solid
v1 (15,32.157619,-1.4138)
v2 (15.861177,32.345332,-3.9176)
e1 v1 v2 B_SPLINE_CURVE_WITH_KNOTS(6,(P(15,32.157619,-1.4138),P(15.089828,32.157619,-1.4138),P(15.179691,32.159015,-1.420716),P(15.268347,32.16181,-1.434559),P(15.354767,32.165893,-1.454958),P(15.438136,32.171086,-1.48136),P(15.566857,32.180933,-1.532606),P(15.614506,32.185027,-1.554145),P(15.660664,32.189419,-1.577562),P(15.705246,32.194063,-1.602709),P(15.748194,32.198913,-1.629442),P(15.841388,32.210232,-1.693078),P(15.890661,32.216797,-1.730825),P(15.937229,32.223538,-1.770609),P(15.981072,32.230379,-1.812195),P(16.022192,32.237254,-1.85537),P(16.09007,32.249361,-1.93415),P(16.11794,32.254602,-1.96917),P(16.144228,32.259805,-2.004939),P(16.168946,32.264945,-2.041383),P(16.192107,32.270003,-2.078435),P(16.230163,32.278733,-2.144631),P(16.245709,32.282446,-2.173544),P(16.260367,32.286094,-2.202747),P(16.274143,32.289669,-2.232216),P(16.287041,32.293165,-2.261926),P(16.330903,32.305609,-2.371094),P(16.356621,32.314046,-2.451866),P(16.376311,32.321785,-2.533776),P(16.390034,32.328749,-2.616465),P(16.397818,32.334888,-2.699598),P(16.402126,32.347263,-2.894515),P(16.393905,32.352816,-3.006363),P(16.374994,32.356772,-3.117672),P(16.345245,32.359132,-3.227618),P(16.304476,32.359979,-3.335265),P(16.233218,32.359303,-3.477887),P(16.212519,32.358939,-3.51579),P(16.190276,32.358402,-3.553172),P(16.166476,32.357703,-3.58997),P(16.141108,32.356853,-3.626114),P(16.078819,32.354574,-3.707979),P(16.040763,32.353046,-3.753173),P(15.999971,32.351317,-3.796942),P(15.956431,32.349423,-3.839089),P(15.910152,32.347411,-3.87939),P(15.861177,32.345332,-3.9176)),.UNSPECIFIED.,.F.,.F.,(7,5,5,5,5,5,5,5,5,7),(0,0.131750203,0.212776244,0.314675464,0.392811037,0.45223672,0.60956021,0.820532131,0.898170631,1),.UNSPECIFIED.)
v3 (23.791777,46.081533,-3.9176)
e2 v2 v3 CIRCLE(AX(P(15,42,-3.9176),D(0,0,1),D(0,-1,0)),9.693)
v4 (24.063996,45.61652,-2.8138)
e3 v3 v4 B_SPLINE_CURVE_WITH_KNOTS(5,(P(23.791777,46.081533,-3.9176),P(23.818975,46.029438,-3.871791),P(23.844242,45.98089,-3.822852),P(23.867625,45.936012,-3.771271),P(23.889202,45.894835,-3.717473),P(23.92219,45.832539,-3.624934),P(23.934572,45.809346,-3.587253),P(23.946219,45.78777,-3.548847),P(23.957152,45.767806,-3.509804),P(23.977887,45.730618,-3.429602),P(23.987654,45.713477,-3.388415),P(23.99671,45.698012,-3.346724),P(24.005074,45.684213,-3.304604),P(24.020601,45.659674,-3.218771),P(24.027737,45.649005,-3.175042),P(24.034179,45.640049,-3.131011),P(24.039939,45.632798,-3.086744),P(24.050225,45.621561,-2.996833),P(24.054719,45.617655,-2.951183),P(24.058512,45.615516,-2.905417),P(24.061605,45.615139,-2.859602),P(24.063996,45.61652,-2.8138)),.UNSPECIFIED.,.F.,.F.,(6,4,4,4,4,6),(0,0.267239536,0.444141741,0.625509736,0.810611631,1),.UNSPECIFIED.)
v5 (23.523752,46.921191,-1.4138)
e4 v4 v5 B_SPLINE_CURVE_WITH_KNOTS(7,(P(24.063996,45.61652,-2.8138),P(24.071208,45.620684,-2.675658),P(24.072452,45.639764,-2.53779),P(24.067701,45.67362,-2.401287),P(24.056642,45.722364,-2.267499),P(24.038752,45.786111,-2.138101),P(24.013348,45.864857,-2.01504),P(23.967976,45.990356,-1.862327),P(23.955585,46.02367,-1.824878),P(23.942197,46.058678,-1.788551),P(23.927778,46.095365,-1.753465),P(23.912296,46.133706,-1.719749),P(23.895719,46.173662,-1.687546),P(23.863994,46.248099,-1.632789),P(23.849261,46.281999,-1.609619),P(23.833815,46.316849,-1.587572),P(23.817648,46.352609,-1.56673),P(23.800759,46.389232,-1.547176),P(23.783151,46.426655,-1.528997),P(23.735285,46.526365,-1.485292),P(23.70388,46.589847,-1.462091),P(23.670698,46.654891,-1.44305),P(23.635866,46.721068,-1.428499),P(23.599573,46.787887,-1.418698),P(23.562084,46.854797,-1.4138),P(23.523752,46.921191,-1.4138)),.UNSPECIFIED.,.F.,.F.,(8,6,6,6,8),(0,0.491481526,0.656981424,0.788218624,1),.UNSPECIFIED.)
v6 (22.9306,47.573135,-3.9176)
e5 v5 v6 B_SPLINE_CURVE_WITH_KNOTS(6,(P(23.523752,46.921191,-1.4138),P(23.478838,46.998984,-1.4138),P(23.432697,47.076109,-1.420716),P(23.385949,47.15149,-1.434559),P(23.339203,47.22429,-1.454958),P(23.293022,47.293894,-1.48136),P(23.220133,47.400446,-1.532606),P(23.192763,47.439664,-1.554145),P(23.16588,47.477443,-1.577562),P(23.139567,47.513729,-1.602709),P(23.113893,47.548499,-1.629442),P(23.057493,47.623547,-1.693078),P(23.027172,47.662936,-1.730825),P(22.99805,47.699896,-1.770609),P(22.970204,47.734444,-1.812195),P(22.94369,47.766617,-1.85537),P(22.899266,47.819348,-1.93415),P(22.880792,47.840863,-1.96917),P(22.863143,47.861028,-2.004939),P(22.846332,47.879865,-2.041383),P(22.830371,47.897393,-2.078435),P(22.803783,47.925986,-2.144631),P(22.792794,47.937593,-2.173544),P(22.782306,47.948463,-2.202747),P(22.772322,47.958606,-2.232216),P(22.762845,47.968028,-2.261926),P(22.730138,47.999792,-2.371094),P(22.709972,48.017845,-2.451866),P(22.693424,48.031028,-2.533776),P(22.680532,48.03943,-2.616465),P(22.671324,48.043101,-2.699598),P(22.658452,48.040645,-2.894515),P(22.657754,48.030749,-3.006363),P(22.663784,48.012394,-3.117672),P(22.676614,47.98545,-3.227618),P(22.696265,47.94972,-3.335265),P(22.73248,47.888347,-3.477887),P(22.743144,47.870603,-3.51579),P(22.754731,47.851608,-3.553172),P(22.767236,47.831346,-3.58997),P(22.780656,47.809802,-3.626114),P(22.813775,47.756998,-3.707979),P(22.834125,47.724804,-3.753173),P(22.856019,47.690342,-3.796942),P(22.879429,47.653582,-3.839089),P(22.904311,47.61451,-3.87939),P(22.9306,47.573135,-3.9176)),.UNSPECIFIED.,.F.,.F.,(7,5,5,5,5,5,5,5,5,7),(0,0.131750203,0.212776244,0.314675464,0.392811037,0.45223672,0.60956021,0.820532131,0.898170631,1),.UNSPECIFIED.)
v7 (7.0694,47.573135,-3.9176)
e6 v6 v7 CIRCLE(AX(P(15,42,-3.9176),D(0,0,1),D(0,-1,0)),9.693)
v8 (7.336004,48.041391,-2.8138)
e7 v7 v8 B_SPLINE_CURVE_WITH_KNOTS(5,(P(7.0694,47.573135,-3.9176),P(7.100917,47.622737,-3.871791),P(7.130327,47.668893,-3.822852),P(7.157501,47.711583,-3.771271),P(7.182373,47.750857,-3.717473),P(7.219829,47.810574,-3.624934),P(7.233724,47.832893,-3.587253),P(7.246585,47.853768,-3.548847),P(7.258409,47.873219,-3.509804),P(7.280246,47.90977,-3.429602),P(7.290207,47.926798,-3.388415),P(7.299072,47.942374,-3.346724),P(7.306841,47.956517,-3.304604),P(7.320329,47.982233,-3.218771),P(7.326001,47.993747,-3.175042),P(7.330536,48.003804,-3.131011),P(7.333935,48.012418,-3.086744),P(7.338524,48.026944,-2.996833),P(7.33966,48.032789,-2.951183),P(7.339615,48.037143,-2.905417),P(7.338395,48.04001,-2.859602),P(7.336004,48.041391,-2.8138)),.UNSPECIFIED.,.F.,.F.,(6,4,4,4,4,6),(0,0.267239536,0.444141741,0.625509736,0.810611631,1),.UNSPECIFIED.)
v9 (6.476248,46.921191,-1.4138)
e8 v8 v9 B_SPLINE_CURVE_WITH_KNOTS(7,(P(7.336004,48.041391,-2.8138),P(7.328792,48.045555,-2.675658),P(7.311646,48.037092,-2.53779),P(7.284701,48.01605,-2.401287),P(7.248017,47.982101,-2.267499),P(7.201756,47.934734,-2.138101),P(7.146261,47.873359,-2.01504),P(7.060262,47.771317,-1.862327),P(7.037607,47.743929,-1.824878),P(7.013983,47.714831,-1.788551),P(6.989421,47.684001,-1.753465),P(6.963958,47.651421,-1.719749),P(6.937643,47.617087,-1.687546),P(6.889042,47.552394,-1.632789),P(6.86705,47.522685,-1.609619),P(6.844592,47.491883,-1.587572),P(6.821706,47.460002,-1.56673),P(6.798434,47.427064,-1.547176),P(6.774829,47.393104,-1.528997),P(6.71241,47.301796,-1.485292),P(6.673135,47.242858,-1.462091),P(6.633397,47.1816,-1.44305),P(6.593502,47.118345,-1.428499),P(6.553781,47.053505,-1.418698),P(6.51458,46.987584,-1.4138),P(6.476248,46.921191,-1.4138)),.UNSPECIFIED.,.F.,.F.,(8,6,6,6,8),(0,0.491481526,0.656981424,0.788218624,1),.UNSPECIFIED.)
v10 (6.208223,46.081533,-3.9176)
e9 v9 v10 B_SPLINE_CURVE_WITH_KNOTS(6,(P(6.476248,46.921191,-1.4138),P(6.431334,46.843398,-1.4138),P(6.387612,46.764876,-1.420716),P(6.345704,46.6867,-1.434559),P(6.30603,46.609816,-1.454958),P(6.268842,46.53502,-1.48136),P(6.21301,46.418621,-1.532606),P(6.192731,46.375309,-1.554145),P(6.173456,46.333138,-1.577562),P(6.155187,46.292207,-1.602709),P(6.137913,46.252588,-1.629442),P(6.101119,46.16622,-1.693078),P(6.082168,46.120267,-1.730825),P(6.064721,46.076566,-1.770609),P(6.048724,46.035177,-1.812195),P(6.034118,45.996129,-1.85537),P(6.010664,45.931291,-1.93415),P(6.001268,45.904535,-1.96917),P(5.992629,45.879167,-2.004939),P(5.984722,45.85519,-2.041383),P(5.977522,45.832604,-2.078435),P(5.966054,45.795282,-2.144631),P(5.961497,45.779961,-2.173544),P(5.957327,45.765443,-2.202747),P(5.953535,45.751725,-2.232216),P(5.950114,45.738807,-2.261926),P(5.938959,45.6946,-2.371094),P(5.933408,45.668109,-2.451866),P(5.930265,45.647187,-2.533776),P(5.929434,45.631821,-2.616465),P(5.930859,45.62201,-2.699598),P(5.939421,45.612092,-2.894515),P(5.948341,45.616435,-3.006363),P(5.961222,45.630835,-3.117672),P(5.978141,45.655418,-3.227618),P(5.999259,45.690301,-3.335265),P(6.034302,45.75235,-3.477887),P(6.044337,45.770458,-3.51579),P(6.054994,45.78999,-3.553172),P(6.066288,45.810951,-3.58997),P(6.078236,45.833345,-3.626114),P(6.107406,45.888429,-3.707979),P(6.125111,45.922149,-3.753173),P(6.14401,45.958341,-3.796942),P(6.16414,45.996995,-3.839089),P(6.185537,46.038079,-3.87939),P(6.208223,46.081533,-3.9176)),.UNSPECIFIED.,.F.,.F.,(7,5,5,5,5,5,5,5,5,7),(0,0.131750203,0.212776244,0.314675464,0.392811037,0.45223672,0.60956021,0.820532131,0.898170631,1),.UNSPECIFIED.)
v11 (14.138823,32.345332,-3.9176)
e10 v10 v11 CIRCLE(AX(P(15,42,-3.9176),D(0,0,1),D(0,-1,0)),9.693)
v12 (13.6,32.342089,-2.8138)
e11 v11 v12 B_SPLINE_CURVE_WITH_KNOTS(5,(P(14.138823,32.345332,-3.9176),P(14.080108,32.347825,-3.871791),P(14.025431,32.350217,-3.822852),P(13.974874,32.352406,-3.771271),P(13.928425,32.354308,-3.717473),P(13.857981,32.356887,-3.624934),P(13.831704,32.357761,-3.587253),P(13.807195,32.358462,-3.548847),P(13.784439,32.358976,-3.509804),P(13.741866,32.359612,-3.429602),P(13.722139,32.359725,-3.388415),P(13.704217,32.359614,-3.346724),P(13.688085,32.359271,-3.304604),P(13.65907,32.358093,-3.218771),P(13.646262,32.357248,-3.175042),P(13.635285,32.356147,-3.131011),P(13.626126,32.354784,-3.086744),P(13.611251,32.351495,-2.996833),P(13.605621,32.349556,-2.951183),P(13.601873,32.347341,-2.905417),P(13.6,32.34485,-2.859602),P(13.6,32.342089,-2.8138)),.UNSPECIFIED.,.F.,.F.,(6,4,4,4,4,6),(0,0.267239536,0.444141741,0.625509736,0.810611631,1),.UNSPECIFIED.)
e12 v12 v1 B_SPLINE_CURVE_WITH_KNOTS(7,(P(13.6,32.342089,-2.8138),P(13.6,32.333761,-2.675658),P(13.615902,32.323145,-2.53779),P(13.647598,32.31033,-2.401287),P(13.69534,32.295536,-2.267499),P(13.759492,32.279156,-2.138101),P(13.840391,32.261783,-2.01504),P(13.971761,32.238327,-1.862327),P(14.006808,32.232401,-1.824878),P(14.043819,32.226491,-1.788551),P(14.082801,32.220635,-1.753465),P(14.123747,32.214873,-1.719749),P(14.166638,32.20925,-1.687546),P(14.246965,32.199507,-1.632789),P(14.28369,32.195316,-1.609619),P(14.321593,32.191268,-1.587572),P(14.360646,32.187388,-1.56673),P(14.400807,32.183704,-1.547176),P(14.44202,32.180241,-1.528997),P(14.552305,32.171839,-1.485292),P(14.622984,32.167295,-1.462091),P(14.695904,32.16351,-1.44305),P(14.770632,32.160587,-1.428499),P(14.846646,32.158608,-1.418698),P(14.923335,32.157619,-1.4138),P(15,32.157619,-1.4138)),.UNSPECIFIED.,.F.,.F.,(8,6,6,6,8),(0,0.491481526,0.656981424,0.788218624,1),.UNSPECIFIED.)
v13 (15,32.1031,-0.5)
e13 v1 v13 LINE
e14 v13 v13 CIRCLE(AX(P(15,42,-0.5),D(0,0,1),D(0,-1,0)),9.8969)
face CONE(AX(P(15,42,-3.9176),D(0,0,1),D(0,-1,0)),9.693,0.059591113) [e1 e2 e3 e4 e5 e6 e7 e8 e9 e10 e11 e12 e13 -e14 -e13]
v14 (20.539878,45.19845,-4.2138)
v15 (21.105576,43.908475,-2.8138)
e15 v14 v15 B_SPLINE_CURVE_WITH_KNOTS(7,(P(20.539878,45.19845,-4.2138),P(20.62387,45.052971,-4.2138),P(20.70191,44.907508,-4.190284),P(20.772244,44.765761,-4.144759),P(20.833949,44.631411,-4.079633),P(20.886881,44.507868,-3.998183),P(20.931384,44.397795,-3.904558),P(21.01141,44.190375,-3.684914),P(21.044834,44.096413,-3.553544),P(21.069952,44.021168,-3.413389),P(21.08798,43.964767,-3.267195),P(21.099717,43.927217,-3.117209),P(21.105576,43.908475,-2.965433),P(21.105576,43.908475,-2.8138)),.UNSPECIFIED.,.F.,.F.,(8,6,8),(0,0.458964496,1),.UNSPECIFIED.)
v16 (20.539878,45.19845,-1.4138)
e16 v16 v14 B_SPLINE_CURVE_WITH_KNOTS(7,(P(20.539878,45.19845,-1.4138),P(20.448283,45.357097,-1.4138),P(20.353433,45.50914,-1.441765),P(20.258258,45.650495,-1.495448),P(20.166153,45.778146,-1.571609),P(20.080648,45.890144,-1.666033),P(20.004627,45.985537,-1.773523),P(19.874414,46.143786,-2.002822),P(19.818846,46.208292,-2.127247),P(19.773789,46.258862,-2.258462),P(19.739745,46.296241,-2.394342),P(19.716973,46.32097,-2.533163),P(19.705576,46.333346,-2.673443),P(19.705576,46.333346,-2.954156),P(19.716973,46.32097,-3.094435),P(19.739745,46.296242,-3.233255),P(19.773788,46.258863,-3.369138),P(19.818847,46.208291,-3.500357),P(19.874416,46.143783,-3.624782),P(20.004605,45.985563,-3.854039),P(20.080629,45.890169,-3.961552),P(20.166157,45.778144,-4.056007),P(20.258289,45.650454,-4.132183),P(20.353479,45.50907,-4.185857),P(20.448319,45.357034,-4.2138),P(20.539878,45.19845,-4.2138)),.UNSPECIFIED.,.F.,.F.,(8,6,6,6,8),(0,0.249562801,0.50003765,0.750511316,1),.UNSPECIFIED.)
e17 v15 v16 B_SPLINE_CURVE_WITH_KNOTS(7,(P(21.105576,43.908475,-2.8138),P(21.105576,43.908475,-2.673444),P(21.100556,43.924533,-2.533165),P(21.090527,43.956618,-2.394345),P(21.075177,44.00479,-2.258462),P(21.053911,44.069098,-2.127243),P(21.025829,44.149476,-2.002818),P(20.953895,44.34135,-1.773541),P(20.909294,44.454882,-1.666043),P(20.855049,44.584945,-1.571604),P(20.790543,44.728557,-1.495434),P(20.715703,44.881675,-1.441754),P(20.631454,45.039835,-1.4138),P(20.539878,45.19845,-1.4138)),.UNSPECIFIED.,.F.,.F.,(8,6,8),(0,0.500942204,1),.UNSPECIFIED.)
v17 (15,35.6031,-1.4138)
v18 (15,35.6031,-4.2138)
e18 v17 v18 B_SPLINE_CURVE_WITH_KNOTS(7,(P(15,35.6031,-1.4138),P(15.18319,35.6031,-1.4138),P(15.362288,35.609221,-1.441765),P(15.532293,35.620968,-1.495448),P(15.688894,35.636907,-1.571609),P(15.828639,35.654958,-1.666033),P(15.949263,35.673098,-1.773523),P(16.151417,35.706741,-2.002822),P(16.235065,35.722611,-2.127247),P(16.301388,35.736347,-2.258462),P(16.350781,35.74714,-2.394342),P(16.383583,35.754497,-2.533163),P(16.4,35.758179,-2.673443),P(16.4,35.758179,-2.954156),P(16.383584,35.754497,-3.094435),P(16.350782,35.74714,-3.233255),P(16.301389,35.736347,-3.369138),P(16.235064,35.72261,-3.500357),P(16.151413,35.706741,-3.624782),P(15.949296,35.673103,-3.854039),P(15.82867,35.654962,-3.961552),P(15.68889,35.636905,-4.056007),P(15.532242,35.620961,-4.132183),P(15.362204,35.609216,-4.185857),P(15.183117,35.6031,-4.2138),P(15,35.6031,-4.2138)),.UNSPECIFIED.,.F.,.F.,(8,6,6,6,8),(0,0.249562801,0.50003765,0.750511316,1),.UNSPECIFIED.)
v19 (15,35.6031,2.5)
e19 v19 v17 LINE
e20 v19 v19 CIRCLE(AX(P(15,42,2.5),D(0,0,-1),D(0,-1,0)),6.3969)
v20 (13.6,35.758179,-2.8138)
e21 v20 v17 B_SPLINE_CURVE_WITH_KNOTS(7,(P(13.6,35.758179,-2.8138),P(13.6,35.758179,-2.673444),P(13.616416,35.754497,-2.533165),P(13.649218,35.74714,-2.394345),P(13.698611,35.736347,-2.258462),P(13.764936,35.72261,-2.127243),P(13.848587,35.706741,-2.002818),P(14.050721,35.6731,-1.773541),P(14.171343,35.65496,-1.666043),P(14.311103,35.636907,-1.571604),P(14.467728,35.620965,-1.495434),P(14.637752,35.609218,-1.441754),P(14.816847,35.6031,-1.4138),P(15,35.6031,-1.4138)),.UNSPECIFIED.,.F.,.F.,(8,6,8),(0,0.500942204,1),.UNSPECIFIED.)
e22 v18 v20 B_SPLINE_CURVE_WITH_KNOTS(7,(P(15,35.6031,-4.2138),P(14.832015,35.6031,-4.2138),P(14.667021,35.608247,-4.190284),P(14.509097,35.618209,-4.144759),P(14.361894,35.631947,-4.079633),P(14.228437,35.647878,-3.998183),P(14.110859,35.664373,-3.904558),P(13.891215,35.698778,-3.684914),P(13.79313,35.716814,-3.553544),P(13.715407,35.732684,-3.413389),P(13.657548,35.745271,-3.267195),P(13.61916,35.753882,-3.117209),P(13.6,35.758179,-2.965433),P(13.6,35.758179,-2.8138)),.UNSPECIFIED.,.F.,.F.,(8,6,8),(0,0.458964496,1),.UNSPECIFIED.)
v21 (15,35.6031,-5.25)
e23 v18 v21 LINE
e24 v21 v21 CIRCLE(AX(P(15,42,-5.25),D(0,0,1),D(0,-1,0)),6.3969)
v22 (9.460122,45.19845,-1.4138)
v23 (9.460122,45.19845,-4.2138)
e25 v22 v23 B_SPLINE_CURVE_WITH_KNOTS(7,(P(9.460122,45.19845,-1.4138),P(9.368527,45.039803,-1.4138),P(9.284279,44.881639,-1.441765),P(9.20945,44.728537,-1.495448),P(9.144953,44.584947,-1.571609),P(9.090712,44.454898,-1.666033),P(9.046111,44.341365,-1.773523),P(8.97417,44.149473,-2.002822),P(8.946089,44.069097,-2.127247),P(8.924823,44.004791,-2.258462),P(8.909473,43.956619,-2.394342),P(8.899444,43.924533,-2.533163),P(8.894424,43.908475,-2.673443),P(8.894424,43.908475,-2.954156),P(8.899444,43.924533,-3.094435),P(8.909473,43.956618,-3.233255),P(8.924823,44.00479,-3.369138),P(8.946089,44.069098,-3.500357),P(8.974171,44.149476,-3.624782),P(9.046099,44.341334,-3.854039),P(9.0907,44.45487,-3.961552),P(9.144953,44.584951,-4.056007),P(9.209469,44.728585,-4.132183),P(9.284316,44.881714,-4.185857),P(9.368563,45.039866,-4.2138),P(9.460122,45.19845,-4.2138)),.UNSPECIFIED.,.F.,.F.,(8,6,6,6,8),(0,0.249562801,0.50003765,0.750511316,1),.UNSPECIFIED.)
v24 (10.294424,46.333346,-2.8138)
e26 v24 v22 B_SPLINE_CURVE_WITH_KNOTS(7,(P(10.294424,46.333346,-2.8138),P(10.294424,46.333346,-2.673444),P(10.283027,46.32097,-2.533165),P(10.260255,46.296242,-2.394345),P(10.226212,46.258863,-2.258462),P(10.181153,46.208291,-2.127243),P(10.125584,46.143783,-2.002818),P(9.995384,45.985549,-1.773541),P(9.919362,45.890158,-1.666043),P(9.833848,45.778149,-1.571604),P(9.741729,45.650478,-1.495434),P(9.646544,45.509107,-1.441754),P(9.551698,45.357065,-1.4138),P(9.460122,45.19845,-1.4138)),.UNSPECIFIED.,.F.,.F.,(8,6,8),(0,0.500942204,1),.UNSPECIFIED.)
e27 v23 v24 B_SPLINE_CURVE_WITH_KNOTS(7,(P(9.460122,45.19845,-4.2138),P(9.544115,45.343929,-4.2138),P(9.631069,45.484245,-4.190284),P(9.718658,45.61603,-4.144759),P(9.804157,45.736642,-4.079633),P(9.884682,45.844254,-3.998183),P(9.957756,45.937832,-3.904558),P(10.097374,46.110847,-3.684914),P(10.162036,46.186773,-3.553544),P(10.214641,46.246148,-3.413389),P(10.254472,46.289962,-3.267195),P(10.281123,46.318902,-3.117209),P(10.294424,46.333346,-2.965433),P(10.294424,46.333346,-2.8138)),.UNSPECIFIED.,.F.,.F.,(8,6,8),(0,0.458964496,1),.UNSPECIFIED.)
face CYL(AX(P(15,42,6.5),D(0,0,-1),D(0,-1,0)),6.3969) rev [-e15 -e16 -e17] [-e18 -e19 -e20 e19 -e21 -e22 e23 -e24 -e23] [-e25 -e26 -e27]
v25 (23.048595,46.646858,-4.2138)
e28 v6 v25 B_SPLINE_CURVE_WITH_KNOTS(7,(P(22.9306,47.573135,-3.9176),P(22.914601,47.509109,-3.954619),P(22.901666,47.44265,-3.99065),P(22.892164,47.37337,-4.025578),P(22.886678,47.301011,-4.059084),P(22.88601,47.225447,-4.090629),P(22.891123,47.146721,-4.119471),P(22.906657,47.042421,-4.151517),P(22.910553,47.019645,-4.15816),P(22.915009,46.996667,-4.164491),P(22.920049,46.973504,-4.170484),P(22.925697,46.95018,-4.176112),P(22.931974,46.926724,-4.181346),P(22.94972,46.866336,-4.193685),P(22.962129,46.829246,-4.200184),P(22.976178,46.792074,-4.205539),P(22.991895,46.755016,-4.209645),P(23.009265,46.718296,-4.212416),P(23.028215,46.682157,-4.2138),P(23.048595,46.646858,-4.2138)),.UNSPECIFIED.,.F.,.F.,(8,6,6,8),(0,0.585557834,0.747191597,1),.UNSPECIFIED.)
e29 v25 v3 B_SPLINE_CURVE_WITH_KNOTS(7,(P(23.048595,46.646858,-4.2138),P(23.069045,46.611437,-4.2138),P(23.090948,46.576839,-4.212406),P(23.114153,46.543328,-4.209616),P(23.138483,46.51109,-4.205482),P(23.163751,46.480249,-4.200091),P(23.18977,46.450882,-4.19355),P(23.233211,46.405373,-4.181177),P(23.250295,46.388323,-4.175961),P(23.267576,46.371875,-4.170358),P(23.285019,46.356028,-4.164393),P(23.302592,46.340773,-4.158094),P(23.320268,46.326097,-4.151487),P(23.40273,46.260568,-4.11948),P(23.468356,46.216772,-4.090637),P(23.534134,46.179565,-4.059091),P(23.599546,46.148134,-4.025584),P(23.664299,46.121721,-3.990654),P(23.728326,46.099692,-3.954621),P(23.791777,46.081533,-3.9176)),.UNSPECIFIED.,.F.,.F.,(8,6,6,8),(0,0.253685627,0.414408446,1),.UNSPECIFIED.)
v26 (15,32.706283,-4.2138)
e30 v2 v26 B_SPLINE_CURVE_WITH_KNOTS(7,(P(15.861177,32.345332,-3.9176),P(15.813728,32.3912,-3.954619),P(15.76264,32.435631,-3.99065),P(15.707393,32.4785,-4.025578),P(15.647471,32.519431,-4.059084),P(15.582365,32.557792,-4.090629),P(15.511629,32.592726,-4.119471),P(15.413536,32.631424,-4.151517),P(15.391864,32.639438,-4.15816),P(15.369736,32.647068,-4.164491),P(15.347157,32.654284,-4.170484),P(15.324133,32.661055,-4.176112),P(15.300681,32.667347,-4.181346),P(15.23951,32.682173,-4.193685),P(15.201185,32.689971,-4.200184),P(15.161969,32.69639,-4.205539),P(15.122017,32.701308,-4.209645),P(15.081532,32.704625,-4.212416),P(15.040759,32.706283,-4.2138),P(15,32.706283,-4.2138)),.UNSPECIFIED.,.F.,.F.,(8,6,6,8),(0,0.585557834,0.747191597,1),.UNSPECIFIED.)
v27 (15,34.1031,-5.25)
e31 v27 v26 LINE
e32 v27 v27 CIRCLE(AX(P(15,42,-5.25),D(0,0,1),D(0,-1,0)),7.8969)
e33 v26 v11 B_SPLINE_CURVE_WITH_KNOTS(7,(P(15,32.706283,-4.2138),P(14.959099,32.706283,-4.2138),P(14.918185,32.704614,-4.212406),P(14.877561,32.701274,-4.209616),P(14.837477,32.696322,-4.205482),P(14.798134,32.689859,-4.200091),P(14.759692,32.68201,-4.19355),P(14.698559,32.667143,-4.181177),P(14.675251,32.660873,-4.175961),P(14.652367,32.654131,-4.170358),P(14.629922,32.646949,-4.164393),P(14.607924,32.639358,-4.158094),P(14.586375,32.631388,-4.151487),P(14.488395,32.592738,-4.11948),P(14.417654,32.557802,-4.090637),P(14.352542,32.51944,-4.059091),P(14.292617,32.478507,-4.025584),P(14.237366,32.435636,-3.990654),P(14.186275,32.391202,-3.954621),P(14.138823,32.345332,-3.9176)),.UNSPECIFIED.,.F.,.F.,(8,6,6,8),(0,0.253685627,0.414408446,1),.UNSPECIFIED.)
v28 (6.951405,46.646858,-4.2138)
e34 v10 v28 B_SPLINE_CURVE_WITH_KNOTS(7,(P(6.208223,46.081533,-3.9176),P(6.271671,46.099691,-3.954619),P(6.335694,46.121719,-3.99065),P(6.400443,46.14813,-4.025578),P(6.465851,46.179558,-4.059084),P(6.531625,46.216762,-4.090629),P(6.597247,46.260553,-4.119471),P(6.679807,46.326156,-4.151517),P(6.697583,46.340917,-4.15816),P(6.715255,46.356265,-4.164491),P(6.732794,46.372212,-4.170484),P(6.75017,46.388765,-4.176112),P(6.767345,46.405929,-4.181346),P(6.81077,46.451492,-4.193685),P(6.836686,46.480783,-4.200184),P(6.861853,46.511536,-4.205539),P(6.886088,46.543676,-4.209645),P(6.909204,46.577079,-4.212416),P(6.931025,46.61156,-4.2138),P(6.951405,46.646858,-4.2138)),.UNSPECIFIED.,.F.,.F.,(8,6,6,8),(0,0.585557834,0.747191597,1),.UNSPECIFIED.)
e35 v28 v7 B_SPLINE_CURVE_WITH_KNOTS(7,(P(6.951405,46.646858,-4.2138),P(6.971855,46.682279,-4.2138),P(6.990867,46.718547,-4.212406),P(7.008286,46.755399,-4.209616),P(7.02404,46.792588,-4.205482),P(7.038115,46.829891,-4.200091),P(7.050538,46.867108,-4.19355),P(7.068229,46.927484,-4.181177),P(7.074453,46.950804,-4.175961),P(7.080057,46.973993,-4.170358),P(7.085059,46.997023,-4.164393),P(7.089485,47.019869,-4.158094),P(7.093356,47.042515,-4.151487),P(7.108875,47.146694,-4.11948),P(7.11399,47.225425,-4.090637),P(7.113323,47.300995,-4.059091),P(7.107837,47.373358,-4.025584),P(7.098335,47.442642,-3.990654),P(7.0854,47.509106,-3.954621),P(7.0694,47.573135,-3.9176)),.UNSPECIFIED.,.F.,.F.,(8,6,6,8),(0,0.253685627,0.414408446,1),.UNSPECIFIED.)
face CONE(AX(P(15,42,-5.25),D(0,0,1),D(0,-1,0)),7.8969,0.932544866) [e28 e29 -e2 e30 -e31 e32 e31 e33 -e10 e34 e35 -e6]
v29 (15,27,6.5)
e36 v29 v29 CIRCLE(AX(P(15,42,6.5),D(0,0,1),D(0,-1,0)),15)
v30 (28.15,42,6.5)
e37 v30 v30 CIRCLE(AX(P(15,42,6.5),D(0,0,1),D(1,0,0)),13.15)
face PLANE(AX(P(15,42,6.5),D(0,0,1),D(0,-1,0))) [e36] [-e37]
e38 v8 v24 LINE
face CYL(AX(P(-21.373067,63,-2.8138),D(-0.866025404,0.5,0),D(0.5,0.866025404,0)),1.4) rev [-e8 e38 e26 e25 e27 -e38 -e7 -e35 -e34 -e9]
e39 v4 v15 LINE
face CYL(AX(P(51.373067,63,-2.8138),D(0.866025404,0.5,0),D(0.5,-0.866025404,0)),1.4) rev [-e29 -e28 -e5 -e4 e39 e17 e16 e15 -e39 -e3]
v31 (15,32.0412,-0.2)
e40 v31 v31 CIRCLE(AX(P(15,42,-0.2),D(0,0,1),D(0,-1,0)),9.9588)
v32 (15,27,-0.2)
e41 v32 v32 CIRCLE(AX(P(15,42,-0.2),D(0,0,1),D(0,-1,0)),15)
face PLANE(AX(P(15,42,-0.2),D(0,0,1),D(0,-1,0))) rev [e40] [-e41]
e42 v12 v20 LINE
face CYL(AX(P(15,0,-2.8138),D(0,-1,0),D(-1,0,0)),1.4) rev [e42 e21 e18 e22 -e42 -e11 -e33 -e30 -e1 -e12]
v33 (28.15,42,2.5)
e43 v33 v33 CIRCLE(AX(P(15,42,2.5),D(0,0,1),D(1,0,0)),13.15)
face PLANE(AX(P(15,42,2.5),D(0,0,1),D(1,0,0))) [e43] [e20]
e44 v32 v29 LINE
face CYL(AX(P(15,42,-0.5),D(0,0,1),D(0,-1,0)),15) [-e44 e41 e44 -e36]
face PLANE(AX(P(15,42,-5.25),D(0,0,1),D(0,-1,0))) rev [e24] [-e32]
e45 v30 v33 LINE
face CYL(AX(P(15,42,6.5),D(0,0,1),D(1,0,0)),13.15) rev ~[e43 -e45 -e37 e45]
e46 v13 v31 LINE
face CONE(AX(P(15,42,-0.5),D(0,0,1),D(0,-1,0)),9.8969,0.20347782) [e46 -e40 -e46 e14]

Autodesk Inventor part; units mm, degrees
ref_plane "YZ Plane" through (0, 0, 0) normal (1, 0, 0) x (0, 1, 0)
ref_plane "XZ Plane" through (0, 0, 0) normal (0, 1, 0) x (-1, 0, 0)
ref_plane "XY Plane" through (0, 0, 0) normal (0, 0, 1) x (1, 0, 0)
ref_plane "Arbeitsebene1" through (15, 0, 0) normal (-1, 0, 0) x (0, 1, 0)
sketch "Skizze1" plane through (15, 0, 0) normal (-1, 0, 0) x (0, 1, 0)
  line L0 (32.6031, 0.5) -> (30.7237, 0.5) projected
  line L1 (30.7237, 4.25) -> (32.6031, 4.25) projected
  line L2 (30.7237, 0.5) -> (30.7237, 4.25) projected
  line L3 (32.6031, 0.5) -> (30.7237, 0.5) projected
  line L4 (30.7237, 4.7) -> (32.6031, 4.7) projected
  line L5 (30.7237, 0.5) -> (30.7237, 4.25) projected
  line L6 (30, 0.5) -> (32, 0.5) projected
  line L7 (30, 0.55) -> (30, 0.5) projected
  line L8 (32, 0.5) -> (32, 0.55) projected
  line L9 (32, 0.5) -> (32, 16.1)
  line L10 (52, 0.5) -> (52, 16.1)
  line L11 (42, 19.32) -> (42, -3.22)
  line L12 (32.6031, 0.5) -> (27, 0.5)
  line L13 (27, 0.5) -> (27, -6.5)
  line L14 (27, -6.5) -> (35.6031, -6.5)
  line L15 (35.6031, -6.5) -> (35.6031, 5.25)
  line L16 (35.6031, 5.25) -> (34.1031, 5.25)
  line L17 (32.6031, 0.5) -> (32.6031, 0.2)
  line L18 (32.6031, 0.2) -> (27, 0.2)
  line L19 (32, 0.55) -> (30, 0.55) projected
  line L20 (32.1031, 0.5) -> (32.0412, 0.2)
  line L21 (27, -6.5) -> (32, -6.5)
  line L22 (32, -6.5) -> (32, -14.5)
  line L23 (32, -14.5) -> (27, -14.5)
  line L24 (27, -14.5) -> (27, -6.5)
  line L25 (34.1031, 5.25) -> (32.307, 3.9176)
  line L26 (32.307, 3.9176) -> (32.1031, 0.5)
  point P0 (0, 0)
  point P1 (30.7237, 0.55)
  point P2 (32, 4.25)
  dimension "d1" = 7
  dimension "d3" = 1
  dimension "d11" = 0.5
  dimension "d13" = 15
  dimension "d14" = 8
  dimension "d15" = 10
  dimension "d37" = 0.3
  dimension "d38" = 6.3969
revolve "Umdrehung1" add sketch "Skizze1" angle 360 about axis through (15, 42, -19.32) along (0, 0, 1) contours L17 L18 L20 L0 | L0 L26 L25 L16 L15 L14 L13 L18 L17
sketch "Skizze2" plane through (0, 0, 0) normal (0, 1, 0) x (-1, 0, 0)
  spline S0 degree 3 poles (-15, -4.25) (-12.1304, -4.4784) (-9.2732, -4.7067) (-7.1109, -4.9351) (-6.8554, -4.962) (-6.6095, -4.989) (-6.3738, -5.016) knots 0 0 0 0 0.7174 0.7174 0.7174 0.802142 0.802142 0.802142 0.802142 projected
  spline S1 degree 3 poles (-14.5016, -1.0897) (-11.6314, -1.3183) (-8.8183, -1.5469) (-6.7355, -1.7755) (-6.2054, -1.8336) (-5.7215, -1.8918) (-5.2918, -1.95) knots 0.041547 0.041547 0.041547 0.041547 0.759706 0.759706 0.759706 0.942478 0.942478 0.942478 0.942478 projected
  circle A0 centre (-15, -2.8138) radius 1.4
  line L0 (-15, 1.0048) -> (-15, -6.0288) projected
  point P0 (0, 0)
  dimension "d5" = 2.8
extrude "Extrusion1" cut sketch "Skizze2" along normal up to surface
pattern_circular "Runde Anordnung1" count 3 over 360 about axis through (15, 42, 3.15) along (0, 0, -1) of "Extrusion1"
chamfer "Fase1" distance 1 angle 45 1 edges at (15, 48.3969, 6.5)
sketch "Skizze6" plane through (15, 42, 6.5) normal (0, 0, 1) x (1, 0, 0)
  circle A0 centre (0, 0) radius 15 projected
  circle A1 centre (0, 0) radius 7.3969 projected
  circle A2 centre (0, 0) radius 13.15
  circle A3 centre (0, 0) radius 9.5
  point P0 (-15, -42)
  dimension "d31" = 26.3
  dimension "d39" = 19
extrude "Extrusion4" cut sketch "Skizze6" against normal blind 4 contours A1 | A2 | A3
properties part number "30_Linear_Stage_NEMA11_baseholder_bayonetmount_objective_rms_metaladapter_tall"
